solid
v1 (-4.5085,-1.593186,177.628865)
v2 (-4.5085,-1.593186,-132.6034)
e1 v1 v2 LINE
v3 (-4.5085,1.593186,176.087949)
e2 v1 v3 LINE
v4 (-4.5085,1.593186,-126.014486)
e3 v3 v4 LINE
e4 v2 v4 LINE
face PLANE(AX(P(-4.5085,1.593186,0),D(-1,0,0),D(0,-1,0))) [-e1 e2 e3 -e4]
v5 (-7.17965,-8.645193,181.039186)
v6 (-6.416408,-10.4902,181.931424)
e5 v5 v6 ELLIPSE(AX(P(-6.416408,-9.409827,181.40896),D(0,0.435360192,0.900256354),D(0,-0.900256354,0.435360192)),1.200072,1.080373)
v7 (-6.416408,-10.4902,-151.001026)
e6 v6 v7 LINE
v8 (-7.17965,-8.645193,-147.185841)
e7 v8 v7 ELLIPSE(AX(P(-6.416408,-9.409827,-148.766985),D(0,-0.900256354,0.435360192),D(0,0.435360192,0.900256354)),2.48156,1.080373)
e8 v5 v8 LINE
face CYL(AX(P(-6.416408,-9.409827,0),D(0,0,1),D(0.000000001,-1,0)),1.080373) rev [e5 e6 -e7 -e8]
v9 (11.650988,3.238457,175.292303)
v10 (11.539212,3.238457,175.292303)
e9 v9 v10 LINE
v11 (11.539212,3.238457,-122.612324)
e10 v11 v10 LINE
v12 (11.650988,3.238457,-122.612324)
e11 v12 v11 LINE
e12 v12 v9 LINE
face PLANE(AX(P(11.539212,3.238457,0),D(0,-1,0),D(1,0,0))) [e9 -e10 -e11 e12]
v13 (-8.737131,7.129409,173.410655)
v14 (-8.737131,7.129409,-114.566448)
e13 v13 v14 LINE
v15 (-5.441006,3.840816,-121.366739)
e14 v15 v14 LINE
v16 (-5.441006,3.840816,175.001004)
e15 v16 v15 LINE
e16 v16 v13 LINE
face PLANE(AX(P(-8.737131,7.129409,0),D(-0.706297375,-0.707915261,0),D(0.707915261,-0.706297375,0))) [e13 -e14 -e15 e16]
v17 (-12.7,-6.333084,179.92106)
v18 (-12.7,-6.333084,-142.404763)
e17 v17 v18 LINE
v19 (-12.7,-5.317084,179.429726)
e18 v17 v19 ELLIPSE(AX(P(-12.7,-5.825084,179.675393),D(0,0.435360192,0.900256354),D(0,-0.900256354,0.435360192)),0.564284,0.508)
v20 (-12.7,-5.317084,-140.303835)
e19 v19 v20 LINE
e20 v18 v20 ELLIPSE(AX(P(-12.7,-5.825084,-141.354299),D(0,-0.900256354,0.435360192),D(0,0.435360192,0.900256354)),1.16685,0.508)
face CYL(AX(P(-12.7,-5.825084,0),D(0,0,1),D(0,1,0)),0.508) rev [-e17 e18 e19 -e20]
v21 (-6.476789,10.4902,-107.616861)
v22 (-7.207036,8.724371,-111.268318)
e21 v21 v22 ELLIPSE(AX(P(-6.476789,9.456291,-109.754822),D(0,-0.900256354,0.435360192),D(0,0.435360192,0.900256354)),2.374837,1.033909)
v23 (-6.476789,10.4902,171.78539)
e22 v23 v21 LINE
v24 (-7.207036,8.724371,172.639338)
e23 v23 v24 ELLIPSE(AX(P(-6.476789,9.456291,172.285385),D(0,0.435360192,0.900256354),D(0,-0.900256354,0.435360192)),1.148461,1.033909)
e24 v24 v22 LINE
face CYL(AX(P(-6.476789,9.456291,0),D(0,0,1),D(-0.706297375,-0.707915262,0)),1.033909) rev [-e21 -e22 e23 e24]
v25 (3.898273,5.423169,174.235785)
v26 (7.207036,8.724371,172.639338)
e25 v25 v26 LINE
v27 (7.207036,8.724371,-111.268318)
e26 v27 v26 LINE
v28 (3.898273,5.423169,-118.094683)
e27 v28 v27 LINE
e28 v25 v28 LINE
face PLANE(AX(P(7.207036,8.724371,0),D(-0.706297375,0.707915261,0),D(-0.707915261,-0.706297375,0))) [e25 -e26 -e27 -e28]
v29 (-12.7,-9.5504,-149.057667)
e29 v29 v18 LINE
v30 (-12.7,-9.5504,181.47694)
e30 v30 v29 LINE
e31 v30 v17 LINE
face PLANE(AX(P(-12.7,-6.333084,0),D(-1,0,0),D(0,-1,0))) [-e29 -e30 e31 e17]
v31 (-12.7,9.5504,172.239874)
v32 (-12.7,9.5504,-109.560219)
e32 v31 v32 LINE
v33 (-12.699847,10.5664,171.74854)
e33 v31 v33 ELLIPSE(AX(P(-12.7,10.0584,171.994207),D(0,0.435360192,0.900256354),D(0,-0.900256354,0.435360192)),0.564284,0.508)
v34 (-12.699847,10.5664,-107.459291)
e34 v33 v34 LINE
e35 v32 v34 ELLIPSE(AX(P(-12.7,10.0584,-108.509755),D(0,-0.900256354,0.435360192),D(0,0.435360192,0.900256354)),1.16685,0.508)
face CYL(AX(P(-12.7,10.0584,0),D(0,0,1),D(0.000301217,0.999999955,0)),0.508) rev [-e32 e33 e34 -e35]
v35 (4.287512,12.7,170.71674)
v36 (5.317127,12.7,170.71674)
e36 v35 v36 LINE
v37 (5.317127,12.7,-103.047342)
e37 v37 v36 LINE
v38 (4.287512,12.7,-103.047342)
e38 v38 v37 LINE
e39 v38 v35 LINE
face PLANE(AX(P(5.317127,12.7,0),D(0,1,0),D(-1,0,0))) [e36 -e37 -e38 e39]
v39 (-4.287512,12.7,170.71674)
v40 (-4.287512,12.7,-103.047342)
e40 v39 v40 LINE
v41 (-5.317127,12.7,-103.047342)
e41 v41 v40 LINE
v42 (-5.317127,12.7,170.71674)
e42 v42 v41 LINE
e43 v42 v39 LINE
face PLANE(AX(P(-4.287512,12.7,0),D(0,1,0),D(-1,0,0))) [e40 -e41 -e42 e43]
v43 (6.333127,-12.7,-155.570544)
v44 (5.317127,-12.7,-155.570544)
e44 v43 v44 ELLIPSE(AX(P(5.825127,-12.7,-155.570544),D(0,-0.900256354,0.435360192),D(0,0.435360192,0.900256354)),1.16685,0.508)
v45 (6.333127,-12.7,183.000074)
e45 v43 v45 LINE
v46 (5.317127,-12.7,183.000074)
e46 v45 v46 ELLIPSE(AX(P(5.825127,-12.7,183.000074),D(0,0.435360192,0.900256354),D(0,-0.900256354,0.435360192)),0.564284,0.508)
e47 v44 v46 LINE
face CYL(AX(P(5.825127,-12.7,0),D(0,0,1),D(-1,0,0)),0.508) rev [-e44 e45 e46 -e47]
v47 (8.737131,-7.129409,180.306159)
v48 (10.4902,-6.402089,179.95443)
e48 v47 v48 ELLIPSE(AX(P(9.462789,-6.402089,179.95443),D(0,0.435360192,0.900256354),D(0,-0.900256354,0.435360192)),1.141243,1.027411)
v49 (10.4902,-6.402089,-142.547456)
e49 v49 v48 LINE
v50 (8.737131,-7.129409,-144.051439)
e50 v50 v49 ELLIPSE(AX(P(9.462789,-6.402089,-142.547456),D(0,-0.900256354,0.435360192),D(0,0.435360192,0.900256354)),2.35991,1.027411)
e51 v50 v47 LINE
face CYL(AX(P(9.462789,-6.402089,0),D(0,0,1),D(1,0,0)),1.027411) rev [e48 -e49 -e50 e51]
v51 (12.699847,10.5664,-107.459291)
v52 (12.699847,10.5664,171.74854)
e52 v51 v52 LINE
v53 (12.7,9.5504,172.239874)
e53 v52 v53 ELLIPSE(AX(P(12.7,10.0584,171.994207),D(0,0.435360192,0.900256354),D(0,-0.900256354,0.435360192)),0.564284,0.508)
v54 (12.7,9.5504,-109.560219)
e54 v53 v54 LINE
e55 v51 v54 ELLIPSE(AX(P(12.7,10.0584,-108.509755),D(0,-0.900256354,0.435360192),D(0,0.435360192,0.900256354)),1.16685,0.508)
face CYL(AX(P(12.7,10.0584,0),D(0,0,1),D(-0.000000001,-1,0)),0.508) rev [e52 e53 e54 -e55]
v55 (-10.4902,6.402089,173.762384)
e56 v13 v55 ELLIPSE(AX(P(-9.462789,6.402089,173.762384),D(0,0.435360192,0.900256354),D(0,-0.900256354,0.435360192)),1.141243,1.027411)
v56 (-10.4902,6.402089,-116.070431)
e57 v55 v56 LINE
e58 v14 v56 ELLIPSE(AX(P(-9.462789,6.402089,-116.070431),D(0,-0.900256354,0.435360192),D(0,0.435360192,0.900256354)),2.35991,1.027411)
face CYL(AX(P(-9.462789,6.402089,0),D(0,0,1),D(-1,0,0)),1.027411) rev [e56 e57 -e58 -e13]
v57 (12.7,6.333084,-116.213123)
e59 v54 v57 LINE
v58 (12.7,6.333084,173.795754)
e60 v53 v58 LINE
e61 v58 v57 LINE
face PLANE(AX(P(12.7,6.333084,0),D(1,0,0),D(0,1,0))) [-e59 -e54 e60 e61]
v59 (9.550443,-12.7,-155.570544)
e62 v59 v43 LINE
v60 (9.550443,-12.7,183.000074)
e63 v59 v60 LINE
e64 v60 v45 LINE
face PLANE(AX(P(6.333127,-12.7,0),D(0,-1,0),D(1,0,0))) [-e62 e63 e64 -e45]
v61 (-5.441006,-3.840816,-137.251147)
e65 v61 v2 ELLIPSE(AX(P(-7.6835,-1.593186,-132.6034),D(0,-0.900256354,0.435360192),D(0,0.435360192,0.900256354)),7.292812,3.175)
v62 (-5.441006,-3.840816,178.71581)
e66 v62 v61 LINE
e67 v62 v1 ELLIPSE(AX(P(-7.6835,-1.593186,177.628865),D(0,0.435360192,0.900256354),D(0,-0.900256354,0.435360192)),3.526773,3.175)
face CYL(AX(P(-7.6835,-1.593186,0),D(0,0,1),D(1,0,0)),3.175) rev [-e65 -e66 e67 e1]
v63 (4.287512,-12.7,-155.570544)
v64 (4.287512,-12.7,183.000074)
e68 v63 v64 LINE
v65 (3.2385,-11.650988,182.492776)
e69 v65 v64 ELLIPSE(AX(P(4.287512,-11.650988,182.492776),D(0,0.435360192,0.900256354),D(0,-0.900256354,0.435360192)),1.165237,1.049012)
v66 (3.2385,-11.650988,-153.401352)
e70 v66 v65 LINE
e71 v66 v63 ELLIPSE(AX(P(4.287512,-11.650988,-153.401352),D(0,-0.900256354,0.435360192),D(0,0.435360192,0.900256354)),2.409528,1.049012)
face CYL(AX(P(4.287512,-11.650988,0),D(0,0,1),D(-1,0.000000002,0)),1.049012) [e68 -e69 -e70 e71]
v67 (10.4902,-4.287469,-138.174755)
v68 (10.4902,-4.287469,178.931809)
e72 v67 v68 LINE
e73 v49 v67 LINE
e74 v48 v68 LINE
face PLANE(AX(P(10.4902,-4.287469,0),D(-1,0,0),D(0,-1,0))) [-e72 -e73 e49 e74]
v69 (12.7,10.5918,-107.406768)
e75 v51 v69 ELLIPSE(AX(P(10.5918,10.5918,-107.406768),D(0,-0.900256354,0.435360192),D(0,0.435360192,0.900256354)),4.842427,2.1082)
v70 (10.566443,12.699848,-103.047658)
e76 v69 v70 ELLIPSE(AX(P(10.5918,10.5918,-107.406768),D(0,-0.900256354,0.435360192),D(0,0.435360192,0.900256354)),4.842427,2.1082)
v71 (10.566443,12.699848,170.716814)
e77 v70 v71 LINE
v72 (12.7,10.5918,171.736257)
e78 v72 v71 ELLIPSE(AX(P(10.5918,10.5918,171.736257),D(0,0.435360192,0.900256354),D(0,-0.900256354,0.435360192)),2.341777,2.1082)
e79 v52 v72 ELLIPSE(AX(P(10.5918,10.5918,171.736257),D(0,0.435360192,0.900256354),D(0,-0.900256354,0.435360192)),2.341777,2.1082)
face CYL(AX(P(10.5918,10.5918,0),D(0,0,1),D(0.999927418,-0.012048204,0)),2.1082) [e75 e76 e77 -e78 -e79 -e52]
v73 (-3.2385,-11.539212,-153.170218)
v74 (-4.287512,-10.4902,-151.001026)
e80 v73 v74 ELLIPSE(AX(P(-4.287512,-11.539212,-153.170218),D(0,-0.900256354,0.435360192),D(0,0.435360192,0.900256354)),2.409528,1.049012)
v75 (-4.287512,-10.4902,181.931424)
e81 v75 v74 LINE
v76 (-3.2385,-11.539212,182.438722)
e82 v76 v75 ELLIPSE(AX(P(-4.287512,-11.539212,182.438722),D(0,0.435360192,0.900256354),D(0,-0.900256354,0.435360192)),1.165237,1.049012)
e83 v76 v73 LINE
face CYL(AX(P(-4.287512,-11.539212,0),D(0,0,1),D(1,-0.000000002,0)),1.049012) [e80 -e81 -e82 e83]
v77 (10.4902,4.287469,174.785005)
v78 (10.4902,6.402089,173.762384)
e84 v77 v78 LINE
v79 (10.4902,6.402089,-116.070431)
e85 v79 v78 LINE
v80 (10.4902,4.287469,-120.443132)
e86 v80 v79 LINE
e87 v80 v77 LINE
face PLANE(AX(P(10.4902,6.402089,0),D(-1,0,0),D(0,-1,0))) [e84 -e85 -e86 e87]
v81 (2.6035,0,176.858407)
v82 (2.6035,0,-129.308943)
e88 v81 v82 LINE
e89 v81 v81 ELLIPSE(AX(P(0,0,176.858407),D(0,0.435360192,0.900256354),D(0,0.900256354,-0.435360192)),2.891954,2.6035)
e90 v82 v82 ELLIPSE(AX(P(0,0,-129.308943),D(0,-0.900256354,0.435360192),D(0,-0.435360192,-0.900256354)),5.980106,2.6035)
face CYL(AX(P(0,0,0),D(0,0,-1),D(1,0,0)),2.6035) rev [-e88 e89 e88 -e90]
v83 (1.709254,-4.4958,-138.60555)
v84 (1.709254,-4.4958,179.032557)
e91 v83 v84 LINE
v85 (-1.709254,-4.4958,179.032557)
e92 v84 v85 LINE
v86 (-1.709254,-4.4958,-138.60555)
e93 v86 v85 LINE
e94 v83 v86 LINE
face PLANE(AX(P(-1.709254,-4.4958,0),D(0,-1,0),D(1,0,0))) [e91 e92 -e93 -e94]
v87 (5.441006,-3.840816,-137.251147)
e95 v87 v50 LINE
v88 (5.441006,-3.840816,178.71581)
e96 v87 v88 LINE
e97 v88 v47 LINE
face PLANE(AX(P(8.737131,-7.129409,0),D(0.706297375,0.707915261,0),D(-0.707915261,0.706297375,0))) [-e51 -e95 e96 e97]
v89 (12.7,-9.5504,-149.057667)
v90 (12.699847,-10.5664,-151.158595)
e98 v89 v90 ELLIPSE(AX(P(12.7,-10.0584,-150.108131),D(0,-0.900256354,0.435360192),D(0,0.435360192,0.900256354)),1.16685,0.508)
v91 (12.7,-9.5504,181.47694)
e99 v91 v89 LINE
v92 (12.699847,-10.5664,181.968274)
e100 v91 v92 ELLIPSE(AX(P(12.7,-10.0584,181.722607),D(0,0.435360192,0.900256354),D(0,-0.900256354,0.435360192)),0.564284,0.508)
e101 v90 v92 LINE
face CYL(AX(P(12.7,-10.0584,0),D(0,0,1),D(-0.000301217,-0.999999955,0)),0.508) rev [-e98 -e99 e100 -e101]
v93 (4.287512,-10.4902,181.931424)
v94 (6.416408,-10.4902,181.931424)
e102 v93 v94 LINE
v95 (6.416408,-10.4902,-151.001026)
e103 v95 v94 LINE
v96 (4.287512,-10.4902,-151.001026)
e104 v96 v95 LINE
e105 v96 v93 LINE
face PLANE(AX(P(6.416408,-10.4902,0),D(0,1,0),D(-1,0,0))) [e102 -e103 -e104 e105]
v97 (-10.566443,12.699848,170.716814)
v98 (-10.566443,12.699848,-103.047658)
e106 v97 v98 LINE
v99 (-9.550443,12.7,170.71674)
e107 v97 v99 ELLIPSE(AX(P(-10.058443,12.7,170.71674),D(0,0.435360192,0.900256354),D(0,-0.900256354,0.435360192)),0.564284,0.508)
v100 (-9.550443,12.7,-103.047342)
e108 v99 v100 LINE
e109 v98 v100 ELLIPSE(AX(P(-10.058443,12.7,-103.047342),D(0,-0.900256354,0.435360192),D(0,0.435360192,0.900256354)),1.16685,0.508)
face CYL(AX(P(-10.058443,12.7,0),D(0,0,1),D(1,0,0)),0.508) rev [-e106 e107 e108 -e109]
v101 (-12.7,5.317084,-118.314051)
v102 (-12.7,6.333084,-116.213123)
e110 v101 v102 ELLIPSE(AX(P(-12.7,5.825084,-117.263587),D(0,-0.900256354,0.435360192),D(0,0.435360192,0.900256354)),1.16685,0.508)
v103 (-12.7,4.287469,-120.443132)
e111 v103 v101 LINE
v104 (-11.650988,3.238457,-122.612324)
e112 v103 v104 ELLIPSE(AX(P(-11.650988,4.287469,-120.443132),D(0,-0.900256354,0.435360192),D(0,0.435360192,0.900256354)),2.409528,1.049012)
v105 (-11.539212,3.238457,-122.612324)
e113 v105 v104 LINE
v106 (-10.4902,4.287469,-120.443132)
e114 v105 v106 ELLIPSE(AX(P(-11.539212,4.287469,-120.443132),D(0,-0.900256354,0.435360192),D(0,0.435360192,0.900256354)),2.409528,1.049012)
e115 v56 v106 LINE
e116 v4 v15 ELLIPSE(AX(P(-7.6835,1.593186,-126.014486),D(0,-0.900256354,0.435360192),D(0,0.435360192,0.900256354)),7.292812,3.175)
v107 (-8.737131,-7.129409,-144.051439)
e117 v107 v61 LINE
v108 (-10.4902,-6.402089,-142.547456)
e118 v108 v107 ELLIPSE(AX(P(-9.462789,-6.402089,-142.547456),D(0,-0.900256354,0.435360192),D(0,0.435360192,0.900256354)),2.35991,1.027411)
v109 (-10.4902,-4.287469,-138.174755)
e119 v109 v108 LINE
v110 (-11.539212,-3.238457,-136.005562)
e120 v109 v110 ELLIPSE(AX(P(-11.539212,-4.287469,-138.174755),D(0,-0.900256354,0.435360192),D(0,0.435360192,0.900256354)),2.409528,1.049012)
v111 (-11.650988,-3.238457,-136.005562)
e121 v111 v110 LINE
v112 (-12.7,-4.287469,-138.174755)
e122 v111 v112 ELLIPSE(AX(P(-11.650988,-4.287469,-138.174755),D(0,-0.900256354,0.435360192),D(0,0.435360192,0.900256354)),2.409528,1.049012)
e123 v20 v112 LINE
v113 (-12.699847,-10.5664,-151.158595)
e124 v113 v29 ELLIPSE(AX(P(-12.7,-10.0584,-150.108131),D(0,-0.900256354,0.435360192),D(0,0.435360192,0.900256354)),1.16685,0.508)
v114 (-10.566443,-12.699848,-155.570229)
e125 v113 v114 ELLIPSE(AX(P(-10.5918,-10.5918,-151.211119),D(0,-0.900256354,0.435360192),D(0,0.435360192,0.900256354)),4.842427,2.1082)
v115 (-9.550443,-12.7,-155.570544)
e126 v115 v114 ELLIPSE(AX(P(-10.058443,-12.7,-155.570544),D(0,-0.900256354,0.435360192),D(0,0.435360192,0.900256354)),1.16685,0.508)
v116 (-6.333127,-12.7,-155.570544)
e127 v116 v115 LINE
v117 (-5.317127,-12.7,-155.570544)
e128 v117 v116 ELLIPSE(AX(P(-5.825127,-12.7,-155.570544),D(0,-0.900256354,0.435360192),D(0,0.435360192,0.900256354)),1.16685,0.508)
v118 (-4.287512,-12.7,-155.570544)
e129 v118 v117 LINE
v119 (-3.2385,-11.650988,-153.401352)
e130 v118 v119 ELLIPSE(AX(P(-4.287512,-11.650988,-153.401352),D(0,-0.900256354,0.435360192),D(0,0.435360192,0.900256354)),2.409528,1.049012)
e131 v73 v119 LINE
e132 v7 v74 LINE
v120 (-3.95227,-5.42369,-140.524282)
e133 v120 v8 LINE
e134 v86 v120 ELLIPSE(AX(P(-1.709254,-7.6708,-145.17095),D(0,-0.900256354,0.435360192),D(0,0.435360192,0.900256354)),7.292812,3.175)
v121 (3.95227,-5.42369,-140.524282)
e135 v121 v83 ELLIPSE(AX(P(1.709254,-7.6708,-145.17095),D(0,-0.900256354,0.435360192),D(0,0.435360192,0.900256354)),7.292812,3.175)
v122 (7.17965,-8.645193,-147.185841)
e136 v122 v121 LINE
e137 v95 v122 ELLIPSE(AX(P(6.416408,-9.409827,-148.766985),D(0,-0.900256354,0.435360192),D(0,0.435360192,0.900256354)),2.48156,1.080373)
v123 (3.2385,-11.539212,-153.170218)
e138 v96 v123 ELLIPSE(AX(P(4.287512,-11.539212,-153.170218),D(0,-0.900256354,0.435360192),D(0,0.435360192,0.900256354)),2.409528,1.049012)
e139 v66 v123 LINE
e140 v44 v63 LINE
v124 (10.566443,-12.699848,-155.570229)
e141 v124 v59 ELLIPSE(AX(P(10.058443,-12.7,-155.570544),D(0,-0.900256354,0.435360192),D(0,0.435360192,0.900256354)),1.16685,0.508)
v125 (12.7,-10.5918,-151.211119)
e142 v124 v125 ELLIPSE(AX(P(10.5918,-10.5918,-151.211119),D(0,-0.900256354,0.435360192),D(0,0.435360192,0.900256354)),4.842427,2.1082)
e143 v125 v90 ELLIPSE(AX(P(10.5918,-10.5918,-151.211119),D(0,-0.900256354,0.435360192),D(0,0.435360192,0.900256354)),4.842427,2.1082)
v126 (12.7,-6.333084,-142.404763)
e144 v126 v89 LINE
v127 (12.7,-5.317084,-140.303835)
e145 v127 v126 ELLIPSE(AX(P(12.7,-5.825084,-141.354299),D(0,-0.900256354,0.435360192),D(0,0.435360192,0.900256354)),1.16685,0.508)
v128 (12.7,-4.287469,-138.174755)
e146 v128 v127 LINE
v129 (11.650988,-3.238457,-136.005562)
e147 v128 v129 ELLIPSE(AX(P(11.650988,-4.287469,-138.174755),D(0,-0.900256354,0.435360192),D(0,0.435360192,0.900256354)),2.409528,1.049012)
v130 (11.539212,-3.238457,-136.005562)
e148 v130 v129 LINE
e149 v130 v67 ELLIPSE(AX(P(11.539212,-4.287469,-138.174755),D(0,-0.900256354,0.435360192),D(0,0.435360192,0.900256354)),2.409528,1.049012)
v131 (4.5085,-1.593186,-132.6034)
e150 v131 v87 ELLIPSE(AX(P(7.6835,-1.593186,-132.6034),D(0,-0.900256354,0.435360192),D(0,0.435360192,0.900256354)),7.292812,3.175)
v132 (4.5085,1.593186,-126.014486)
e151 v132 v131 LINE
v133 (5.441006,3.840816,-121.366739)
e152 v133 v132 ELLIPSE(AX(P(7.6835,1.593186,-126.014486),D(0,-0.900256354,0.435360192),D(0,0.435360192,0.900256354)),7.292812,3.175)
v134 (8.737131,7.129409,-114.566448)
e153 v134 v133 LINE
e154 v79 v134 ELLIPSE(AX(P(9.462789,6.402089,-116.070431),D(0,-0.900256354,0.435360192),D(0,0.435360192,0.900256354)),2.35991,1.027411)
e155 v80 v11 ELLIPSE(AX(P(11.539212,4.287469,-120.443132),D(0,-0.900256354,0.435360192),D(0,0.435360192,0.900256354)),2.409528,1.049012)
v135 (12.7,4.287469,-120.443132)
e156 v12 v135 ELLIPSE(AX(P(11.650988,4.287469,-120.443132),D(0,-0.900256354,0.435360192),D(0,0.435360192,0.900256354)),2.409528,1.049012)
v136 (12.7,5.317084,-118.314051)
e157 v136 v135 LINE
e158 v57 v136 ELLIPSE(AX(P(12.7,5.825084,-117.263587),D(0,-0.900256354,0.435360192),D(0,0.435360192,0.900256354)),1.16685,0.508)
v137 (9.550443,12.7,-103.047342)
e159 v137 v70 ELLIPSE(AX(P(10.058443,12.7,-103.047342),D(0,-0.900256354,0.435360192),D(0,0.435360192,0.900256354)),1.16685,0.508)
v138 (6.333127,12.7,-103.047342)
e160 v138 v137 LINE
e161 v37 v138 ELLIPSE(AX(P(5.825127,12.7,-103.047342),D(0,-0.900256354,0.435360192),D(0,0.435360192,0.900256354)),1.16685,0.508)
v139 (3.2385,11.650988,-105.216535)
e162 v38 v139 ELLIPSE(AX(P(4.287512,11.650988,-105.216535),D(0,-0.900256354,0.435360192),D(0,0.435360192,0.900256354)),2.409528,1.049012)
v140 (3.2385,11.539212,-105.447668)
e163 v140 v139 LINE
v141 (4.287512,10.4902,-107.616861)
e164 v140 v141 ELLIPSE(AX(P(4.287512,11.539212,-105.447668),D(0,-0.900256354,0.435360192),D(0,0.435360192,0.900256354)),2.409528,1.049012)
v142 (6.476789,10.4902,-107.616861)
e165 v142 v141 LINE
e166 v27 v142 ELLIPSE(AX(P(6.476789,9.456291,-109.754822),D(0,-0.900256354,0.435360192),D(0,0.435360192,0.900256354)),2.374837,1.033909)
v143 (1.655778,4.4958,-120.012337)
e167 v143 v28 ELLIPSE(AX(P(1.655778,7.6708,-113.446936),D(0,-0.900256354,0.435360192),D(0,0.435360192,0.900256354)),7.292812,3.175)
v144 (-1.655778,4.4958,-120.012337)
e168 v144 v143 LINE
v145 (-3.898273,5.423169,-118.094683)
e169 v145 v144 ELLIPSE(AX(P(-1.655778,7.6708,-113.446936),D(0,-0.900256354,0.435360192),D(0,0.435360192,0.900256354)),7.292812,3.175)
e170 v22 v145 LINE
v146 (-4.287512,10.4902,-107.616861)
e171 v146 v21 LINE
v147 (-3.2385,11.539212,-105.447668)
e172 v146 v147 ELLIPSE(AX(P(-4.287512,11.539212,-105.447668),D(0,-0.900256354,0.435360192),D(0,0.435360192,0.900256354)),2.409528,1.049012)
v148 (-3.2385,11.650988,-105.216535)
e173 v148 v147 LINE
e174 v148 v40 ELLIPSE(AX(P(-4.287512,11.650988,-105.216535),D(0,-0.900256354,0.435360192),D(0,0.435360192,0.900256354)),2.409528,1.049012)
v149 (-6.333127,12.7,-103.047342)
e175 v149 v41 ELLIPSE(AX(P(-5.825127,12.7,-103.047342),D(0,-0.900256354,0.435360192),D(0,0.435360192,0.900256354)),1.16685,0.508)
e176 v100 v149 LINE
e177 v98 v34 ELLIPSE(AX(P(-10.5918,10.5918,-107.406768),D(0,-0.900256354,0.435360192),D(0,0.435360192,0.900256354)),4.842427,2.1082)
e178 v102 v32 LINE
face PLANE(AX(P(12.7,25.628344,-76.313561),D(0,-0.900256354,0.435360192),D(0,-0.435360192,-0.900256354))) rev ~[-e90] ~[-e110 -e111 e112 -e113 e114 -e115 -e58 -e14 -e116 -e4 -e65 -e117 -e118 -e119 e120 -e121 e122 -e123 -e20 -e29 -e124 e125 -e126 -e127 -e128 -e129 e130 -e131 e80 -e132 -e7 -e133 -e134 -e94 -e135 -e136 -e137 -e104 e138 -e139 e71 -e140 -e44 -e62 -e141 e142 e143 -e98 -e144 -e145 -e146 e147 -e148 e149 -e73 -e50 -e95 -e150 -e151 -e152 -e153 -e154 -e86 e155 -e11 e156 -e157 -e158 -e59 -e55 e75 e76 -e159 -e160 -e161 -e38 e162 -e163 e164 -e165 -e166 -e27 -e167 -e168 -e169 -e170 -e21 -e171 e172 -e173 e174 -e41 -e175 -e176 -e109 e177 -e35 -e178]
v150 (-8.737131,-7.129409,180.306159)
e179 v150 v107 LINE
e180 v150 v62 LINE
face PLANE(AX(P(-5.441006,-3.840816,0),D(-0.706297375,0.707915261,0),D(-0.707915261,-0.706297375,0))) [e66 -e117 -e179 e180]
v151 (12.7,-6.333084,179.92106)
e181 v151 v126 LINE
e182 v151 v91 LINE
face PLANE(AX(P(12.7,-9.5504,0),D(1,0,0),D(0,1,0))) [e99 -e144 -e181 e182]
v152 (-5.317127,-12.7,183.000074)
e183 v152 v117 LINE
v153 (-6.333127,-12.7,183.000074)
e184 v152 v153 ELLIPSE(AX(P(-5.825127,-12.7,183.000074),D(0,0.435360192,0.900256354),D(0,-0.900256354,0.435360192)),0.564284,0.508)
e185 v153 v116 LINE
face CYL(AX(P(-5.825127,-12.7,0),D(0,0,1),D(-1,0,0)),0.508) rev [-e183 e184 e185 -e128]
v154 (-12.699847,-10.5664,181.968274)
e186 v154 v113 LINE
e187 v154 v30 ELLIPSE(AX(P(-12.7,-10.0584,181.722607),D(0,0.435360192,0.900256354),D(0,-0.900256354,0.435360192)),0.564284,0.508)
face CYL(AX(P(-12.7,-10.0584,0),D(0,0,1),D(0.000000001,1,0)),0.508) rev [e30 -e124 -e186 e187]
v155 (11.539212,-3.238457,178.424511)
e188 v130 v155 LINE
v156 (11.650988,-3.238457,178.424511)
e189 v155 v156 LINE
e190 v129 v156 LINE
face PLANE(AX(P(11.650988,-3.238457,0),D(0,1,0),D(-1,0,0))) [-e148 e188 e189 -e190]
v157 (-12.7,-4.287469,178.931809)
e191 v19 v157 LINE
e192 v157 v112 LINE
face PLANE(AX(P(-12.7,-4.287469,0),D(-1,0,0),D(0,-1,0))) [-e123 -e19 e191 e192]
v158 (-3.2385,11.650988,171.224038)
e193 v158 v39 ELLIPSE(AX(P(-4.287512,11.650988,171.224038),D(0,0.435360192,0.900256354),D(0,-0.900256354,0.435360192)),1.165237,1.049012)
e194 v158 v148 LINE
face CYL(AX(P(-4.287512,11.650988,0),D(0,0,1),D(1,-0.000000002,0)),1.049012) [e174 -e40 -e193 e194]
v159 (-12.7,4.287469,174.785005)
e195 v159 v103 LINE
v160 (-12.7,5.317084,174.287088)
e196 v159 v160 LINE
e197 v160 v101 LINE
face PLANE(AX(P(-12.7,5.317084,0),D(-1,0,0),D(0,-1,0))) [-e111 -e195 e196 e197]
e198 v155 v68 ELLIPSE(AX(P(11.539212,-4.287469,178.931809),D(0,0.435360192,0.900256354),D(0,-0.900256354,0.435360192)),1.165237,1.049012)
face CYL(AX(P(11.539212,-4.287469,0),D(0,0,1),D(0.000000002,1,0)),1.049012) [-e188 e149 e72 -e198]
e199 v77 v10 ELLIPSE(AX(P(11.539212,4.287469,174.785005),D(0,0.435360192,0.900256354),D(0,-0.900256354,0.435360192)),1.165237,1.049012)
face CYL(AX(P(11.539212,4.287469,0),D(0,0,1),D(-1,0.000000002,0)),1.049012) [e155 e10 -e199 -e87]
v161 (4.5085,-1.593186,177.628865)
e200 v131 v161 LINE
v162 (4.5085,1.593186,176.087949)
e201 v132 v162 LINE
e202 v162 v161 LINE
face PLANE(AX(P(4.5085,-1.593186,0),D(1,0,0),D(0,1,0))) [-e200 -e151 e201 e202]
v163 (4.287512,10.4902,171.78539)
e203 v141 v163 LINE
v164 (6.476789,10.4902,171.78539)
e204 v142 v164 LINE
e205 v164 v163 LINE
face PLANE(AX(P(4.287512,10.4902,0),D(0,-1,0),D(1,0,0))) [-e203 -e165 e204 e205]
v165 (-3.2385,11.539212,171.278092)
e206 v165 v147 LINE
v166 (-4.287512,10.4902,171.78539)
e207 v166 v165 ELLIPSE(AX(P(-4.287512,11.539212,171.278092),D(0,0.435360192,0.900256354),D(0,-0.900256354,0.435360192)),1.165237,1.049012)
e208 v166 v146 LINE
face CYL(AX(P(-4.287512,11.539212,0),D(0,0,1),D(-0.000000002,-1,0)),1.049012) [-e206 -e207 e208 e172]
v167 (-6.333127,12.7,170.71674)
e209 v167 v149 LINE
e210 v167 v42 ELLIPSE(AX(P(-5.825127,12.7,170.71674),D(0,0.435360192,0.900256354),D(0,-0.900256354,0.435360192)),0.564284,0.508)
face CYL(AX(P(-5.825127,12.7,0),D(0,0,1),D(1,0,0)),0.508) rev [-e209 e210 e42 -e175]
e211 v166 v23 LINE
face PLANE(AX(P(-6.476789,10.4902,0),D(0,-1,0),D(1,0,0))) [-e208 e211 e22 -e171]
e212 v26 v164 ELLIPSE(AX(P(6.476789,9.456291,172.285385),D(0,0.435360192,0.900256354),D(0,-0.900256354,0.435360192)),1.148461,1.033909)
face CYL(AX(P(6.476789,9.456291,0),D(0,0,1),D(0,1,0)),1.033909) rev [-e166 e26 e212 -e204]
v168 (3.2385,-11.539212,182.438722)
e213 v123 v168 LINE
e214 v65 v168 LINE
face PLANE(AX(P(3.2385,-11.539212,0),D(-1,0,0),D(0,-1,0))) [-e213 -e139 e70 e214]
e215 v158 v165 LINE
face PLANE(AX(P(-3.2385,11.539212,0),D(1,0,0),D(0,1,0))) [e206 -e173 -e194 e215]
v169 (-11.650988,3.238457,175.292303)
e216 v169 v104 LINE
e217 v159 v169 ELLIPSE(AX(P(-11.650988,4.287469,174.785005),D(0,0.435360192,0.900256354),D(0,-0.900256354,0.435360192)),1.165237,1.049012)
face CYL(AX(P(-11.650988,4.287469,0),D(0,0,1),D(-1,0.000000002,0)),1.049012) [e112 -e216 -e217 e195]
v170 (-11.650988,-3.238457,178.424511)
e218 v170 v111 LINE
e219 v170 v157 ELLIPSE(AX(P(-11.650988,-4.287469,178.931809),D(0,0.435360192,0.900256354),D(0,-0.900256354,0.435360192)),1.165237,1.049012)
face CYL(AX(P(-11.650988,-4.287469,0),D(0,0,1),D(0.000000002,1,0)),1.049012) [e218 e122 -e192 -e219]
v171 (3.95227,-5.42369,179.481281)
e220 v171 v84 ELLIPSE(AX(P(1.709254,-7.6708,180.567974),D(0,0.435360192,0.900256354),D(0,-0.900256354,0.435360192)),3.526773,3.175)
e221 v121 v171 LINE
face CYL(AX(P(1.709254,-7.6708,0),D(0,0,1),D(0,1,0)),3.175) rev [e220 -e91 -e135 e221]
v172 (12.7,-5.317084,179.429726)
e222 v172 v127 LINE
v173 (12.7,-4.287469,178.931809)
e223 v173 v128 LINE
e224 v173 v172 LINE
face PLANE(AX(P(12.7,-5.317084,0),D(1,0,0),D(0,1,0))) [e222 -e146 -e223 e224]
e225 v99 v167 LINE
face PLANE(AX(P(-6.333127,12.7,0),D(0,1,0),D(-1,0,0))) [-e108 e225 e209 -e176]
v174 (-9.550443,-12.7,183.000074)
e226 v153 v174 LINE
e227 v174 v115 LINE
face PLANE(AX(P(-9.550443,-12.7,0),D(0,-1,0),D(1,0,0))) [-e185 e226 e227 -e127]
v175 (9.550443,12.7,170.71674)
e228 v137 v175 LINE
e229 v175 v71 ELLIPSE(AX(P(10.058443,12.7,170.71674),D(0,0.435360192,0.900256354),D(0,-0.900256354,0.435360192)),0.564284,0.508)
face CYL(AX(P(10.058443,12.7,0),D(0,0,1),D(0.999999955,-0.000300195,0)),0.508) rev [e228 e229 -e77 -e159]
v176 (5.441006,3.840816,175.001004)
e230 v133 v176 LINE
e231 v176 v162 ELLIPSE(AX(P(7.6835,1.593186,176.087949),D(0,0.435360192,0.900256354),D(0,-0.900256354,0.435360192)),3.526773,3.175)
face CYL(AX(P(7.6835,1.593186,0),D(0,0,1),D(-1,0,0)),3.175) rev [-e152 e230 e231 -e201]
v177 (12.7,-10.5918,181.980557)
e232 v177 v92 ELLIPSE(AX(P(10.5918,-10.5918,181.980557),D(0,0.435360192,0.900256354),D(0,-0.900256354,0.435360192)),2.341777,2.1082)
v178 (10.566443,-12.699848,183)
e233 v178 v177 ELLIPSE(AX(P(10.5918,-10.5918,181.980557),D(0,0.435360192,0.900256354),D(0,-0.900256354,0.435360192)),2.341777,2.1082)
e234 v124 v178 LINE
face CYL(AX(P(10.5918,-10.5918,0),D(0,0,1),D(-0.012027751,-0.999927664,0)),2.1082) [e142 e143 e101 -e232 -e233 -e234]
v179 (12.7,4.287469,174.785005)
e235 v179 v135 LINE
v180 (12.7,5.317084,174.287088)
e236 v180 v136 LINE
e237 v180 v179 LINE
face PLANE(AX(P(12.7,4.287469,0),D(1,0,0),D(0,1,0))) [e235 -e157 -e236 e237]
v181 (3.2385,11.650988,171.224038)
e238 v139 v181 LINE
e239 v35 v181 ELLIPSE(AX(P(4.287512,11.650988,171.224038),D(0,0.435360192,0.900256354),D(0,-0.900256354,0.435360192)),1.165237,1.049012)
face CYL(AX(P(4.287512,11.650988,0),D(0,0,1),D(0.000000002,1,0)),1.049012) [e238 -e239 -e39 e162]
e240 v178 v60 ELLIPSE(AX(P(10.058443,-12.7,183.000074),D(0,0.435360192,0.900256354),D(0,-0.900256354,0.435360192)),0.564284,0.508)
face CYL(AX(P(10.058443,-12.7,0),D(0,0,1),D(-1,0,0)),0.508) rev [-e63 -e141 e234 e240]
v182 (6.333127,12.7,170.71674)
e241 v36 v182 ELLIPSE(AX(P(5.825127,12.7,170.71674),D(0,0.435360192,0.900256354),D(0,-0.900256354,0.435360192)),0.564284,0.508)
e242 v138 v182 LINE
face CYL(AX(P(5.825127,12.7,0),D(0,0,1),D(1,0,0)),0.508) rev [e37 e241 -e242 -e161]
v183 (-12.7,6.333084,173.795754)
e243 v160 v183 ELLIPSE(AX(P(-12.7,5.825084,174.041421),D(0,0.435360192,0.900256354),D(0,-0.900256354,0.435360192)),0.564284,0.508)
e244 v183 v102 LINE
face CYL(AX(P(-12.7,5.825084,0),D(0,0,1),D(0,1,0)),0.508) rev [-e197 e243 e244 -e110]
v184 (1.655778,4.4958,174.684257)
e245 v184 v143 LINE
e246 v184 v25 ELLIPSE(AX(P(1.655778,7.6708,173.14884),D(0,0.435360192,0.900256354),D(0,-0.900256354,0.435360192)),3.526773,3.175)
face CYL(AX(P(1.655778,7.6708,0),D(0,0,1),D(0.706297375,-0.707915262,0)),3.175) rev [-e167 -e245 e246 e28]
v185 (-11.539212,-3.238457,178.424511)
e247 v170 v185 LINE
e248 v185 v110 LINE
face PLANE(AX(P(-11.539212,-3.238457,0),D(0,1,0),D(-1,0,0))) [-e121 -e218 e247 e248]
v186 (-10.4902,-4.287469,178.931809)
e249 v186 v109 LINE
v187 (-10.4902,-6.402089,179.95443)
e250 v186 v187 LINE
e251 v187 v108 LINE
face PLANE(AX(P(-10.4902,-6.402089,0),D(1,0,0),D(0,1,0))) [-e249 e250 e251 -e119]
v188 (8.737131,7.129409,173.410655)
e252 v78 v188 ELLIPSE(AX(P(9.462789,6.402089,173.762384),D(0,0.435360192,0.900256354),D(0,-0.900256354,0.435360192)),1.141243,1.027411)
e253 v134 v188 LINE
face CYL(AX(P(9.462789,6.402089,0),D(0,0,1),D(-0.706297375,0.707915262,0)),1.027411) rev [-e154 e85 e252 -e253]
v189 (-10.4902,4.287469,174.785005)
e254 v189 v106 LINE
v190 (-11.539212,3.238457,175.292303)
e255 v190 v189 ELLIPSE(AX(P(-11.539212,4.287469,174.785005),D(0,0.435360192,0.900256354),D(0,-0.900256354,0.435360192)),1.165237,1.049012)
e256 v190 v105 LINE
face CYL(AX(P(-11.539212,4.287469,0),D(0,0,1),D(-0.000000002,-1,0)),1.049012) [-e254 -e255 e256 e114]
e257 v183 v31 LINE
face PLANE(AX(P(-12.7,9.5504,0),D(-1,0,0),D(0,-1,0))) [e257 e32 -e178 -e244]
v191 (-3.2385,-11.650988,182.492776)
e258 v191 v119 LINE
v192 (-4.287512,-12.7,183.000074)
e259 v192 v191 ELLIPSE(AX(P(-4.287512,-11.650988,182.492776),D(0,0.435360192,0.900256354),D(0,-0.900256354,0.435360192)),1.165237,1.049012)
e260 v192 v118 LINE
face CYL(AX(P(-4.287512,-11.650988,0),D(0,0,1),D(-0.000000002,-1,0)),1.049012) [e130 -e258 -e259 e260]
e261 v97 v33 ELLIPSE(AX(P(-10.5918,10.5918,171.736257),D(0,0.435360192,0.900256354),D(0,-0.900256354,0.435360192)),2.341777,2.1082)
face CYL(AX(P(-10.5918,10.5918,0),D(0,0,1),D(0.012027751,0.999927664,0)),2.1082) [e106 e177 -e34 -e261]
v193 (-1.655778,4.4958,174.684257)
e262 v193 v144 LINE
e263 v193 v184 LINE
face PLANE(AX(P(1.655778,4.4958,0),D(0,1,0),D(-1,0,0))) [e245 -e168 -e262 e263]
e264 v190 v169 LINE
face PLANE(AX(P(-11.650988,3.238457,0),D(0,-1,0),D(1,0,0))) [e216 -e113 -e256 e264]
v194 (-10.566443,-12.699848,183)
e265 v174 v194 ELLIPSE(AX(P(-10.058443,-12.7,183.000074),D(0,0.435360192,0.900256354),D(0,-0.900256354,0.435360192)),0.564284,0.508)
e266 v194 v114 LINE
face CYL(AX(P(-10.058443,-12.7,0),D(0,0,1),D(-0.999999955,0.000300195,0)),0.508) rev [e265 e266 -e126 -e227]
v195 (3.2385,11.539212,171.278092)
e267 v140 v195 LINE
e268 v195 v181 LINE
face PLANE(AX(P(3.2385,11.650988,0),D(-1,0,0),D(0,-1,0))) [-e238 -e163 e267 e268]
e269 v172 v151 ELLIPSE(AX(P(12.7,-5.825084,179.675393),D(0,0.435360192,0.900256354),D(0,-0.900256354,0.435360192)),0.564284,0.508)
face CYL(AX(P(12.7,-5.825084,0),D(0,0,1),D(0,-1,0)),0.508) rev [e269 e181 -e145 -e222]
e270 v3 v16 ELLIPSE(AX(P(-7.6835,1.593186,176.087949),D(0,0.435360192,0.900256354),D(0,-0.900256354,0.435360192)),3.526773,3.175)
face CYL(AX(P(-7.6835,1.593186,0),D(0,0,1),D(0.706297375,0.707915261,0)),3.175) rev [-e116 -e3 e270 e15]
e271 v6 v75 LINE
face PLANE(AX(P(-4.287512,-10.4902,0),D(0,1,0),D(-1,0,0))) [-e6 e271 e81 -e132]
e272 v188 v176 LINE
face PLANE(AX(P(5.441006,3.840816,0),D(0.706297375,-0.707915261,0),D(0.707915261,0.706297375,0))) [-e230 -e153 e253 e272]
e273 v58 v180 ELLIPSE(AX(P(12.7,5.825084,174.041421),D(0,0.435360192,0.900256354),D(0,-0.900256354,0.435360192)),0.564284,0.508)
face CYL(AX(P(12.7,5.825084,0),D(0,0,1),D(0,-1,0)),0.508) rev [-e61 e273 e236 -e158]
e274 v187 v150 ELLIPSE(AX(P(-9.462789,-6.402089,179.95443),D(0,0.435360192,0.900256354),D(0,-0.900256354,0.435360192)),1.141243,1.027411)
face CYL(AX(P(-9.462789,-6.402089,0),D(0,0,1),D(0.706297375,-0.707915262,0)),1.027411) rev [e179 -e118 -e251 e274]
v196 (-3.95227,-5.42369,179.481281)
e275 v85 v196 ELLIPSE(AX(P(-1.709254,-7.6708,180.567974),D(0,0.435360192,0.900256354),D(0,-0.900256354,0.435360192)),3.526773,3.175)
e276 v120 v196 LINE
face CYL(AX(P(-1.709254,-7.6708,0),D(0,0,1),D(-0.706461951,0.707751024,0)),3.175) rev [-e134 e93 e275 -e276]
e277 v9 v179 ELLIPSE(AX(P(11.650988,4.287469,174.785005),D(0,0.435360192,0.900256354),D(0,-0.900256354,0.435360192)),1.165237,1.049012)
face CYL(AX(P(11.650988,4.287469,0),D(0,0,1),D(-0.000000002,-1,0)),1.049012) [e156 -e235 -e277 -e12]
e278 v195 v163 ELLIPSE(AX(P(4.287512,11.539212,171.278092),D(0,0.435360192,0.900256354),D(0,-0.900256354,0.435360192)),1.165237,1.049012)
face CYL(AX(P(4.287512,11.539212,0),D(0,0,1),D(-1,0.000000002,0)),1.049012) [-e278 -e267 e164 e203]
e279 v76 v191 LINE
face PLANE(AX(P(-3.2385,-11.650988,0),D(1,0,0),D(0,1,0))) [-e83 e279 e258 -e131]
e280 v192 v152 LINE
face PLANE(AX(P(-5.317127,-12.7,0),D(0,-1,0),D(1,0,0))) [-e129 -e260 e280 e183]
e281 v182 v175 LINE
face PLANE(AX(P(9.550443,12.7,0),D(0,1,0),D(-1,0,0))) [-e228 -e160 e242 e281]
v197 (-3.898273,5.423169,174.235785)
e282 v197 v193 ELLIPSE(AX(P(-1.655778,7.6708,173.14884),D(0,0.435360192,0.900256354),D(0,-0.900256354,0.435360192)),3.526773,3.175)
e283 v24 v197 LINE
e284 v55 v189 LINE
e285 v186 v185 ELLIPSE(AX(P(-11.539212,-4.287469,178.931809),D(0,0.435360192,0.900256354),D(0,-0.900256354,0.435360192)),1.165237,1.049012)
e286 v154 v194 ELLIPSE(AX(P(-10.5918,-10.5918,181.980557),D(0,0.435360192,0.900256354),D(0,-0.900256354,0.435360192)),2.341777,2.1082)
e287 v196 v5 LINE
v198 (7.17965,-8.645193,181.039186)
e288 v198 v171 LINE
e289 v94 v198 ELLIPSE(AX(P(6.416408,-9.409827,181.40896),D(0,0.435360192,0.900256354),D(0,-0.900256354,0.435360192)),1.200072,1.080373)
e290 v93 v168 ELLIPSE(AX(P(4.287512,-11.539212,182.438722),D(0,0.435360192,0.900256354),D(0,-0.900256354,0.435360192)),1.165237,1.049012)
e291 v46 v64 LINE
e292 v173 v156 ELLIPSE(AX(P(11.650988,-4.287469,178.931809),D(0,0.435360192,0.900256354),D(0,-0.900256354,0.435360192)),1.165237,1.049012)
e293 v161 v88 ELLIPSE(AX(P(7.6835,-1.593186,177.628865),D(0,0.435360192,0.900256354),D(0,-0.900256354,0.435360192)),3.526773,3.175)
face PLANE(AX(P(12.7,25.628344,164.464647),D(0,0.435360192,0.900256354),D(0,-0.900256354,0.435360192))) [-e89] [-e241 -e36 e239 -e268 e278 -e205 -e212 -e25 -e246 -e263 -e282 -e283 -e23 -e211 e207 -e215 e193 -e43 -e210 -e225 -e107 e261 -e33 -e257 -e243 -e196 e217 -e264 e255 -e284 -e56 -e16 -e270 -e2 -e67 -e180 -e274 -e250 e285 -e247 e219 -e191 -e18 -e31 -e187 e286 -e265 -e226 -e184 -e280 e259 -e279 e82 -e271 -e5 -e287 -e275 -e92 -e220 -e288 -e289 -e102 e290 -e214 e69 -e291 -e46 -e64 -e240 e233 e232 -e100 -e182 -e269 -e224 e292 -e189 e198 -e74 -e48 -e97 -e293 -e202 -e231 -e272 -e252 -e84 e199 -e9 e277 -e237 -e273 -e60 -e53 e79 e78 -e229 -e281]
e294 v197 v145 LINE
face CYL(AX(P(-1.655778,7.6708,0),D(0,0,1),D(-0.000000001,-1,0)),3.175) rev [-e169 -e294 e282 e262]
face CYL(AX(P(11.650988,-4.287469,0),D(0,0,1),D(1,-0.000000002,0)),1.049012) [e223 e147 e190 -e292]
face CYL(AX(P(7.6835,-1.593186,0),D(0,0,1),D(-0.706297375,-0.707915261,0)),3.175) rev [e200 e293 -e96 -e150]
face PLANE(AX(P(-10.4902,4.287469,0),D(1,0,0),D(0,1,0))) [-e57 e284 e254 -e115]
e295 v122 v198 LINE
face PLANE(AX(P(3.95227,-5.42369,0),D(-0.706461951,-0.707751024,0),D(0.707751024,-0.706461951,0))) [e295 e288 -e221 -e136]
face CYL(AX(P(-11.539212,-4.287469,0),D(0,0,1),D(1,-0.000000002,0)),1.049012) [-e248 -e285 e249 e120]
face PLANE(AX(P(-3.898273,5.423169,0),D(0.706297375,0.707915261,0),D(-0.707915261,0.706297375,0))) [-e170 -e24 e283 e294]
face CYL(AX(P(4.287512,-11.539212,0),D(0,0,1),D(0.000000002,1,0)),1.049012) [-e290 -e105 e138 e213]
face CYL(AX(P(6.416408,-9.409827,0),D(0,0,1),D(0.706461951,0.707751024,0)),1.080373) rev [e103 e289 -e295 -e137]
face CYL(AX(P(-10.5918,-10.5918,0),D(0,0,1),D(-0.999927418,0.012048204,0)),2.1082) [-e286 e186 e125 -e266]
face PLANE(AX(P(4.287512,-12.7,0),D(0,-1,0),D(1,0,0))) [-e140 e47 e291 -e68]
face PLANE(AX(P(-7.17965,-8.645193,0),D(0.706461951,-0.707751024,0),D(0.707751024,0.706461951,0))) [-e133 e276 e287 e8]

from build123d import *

# Parameters (mm, degrees)
SKETCH1_R               = 2.6035
BOSS_EXTRUDE1_DEPTH     = 185
CUT_EXTRUDE4_DEPTH      = 1
CUT_EXTRUDE4_DEPTH_BACK = 26.4


with BuildPart() as part:
    # Sketch1 → Boss-Extrude1 (new body, symmetric)
    with BuildSketch(Plane.XY):
        with BuildLine():
            Line((-7.179650497, -8.645192506), (-3.952270251, -5.423690499))
            ThreePointArc((-3.952270251, -5.423690499), (-2.922936451, -4.736929036), (-1.709253557, -4.4958))
            Line((-1.709253557, -4.4958), (1.709253557, -4.4958))
            ThreePointArc((1.709253557, -4.4958), (2.922936451, -4.736929036), (3.952270251, -5.423690499))
            Line((3.952270251, -5.423690499), (7.179650497, -8.645192506))
            ThreePointArc((7.179650497, -8.645192506), (7.41473083, -9.822813117), (6.416408329, -10.4902))
            Line((6.416408329, -10.4902), (4.287512407, -10.4902))
            ThreePointArc((4.287512407, -10.4902), (3.54574862, -10.79744862), (3.2385, -11.539212407))
            Line((3.2385, -11.539212407), (3.2385, -11.650987593))
            ThreePointArc((3.2385, -11.650987593), (3.54574862, -12.39275138), (4.287512407, -12.7))
            Line((4.287512407, -12.7), (5.317126718, -12.7))
            ThreePointArc((5.317126718, -12.7), (5.825126718, -12.192), (6.333126718, -12.7))
            Line((6.333126718, -12.7), (9.550443118, -12.7))
            ThreePointArc((9.550443118, -12.7), (10.058366869, -12.192000006), (10.566443095, -12.699847501))
            ThreePointArc((10.566443095, -12.699847501), (12.082537762, -12.08250727), (12.699846982, -10.566399977))
            ThreePointArc((12.699846982, -10.566399977), (12.192000006, -10.058323491), (12.7, -9.5504))
            Line((12.7, -9.5504), (12.7, -6.3330836))
            ThreePointArc((12.7, -6.3330836), (12.192, -5.8250836), (12.7, -5.3170836))
            Line((12.7, -5.3170836), (12.7, -4.287469289))
            ThreePointArc((12.7, -4.287469289), (12.39275138, -3.545705502), (11.650987593, -3.238456882))
            Line((11.650987593, -3.238456882), (11.539212407, -3.238456882))
            ThreePointArc((11.539212407, -3.238456882), (10.79744862, -3.545705502), (10.4902, -4.287469289))
            Line((10.4902, -4.287469289), (10.4902, -6.402089023))
            ThreePointArc((10.4902, -6.402089023), (9.856505071, -7.351067942), (8.737131347, -7.129408934))
            Line((8.737131347, -7.129408934), (5.441005833, -3.840816462))
            ThreePointArc((5.441005833, -3.840816462), (4.750877967, -2.809883091), (4.5085, -1.593185507))
            Line((4.5085, -1.593185507), (4.5085, 1.593185507))
            ThreePointArc((4.5085, 1.593185507), (4.750877967, 2.809883091), (5.441005833, 3.840816462))
            Line((5.441005833, 3.840816462), (8.737131347, 7.129408934))
            ThreePointArc((8.737131347, 7.129408934), (9.856505071, 7.351067942), (10.4902, 6.402089023))
            Line((10.4902, 6.402089023), (10.4902, 4.287469289))
            ThreePointArc((10.4902, 4.287469289), (10.79744862, 3.545705502), (11.539212407, 3.238456882))
            Line((11.539212407, 3.238456882), (11.650987593, 3.238456882))
            ThreePointArc((11.650987593, 3.238456882), (12.39275138, 3.545705502), (12.7, 4.287469289))
            Line((12.7, 4.287469289), (12.7, 5.3170836))
            ThreePointArc((12.7, 5.3170836), (12.192, 5.8250836), (12.7, 6.3330836))
            Line((12.7, 6.3330836), (12.7, 9.5504))
            ThreePointArc((12.7, 9.5504), (12.192000006, 10.058323491), (12.699846982, 10.566399977))
            ThreePointArc((12.699846982, 10.566399977), (12.082537762, 12.08250727), (10.566443095, 12.699847501))
            ThreePointArc((10.566443095, 12.699847501), (10.058366869, 12.192000006), (9.550443118, 12.7))
            Line((9.550443118, 12.7), (6.333126718, 12.7))
            ThreePointArc((6.333126718, 12.7), (5.825126718, 12.192), (5.317126718, 12.7))
            Line((5.317126718, 12.7), (4.287512407, 12.7))
            ThreePointArc((4.287512407, 12.7), (3.54574862, 12.39275138), (3.2385, 11.650987593))
            Line((3.2385, 11.650987593), (3.2385, 11.539212407))
            ThreePointArc((3.2385, 11.539212407), (3.54574862, 10.79744862), (4.287512407, 10.4902))
            Line((4.287512407, 10.4902), (6.476788598, 10.4902))
            ThreePointArc((6.476788598, 10.4902), (7.432222385, 9.85140422), (7.207036008, 8.724370562))
            Line((7.207036008, 8.724370562), (3.898272566, 5.423169045))
            ThreePointArc((3.898272566, 5.423169045), (2.869120213, 4.736787962), (1.655778399, 4.4958))
            Line((1.655778399, 4.4958), (-1.655778399, 4.4958))
            ThreePointArc((-1.655778399, 4.4958), (-2.869120213, 4.736787962), (-3.898272566, 5.423169045))
            Line((-3.898272566, 5.423169045), (-7.207036008, 8.724370562))
            ThreePointArc((-7.207036008, 8.724370562), (-7.432222385, 9.85140422), (-6.476788598, 10.4902))
            Line((-6.476788598, 10.4902), (-4.287512407, 10.4902))
            ThreePointArc((-4.287512407, 10.4902), (-3.54574862, 10.79744862), (-3.2385, 11.539212407))
            Line((-3.2385, 11.539212407), (-3.2385, 11.650987593))
            ThreePointArc((-3.2385, 11.650987593), (-3.54574862, 12.39275138), (-4.287512407, 12.7))
            Line((-4.287512407, 12.7), (-5.317126718, 12.7))
            ThreePointArc((-5.317126718, 12.7), (-5.825126718, 12.192), (-6.333126718, 12.7))
            Line((-6.333126718, 12.7), (-9.550443118, 12.7))
            ThreePointArc((-9.550443118, 12.7), (-10.058366869, 12.192000006), (-10.566443095, 12.699847501))
            ThreePointArc((-10.566443095, 12.699847501), (-12.082537762, 12.08250727), (-12.699846982, 10.566399977))
            ThreePointArc((-12.699846982, 10.566399977), (-12.192000006, 10.058323491), (-12.7, 9.5504))
            Line((-12.7, 9.5504), (-12.7, 6.3330836))
            ThreePointArc((-12.7, 6.3330836), (-12.192, 5.8250836), (-12.7, 5.3170836))
            Line((-12.7, 5.3170836), (-12.7, 4.287469289))
            ThreePointArc((-12.7, 4.287469289), (-12.39275138, 3.545705502), (-11.650987593, 3.238456882))
            Line((-11.650987593, 3.238456882), (-11.539212407, 3.238456882))
            ThreePointArc((-11.539212407, 3.238456882), (-10.79744862, 3.545705502), (-10.4902, 4.287469289))
            Line((-10.4902, 4.287469289), (-10.4902, 6.402089023))
            ThreePointArc((-10.4902, 6.402089023), (-9.856505071, 7.351067942), (-8.737131347, 7.129408934))
            Line((-8.737131347, 7.129408934), (-5.441005833, 3.840816462))
            ThreePointArc((-5.441005833, 3.840816462), (-4.750877967, 2.809883091), (-4.5085, 1.593185507))
            Line((-4.5085, 1.593185507), (-4.5085, -1.593185507))
            ThreePointArc((-4.5085, -1.593185507), (-4.750877967, -2.809883091), (-5.441005833, -3.840816462))
            Line((-5.441005833, -3.840816462), (-8.737131347, -7.129408934))
            ThreePointArc((-8.737131347, -7.129408934), (-9.856505071, -7.351067942), (-10.4902, -6.402089023))
            Line((-10.4902, -6.402089023), (-10.4902, -4.287469289))
            ThreePointArc((-10.4902, -4.287469289), (-10.79744862, -3.545705502), (-11.539212407, -3.238456882))
            Line((-11.539212407, -3.238456882), (-11.650987593, -3.238456882))
            ThreePointArc((-11.650987593, -3.238456882), (-12.39275138, -3.545705502), (-12.7, -4.287469289))
            Line((-12.7, -4.287469289), (-12.7, -5.3170836))
            ThreePointArc((-12.7, -5.3170836), (-12.192, -5.8250836), (-12.7, -6.3330836))
            Line((-12.7, -6.3330836), (-12.7, -9.5504))
            ThreePointArc((-12.7, -9.5504), (-12.192000006, -10.058323491), (-12.699846982, -10.566399977))
            ThreePointArc((-12.699846982, -10.566399977), (-12.082537762, -12.08250727), (-10.566443095, -12.699847501))
            ThreePointArc((-10.566443095, -12.699847501), (-10.058366869, -12.192000006), (-9.550443118, -12.7))
            Line((-9.550443118, -12.7), (-6.333126718, -12.7))
            ThreePointArc((-6.333126718, -12.7), (-5.825126718, -12.192), (-5.317126718, -12.7))
            Line((-5.317126718, -12.7), (-4.287512407, -12.7))
            ThreePointArc((-4.287512407, -12.7), (-3.54574862, -12.39275138), (-3.2385, -11.650987593))
            Line((-3.2385, -11.650987593), (-3.2385, -11.539212407))
            ThreePointArc((-3.2385, -11.539212407), (-3.54574862, -10.79744862), (-4.287512407, -10.4902))
            Line((-4.287512407, -10.4902), (-6.416408329, -10.4902))
            ThreePointArc((-6.416408329, -10.4902), (-7.41473083, -9.822813117), (-7.179650497, -8.645192506))
        make_face()
        Circle(SKETCH1_R, mode=Mode.SUBTRACT)
    extrude(amount=BOSS_EXTRUDE1_DEPTH, both=True)

    # Sketch2 → Cut-Extrude4 (cut, two sides)
    with BuildSketch(Plane(origin=(12.7, 0, 0), x_dir=(0, 0, -1), z_dir=(1, 0, 0))) as cut_extrude4_sk:
        Polygon((-164.46464742, 25.628344266), (-188.10813452, -23.262665694), (-213.259000162, -11.09981269), (-189.615513062, 37.79119727), align=None)
        Polygon((76.313561137, 25.628344266), (208.869262725, -38.475036358), (239.869388394, 25.628344266), (107.313686806, 89.73172489), align=None)
    extrude(amount=CUT_EXTRUDE4_DEPTH, mode=Mode.SUBTRACT)
    extrude(cut_extrude4_sk.sketch, amount=-CUT_EXTRUDE4_DEPTH_BACK, mode=Mode.SUBTRACT)


solid = part.part
